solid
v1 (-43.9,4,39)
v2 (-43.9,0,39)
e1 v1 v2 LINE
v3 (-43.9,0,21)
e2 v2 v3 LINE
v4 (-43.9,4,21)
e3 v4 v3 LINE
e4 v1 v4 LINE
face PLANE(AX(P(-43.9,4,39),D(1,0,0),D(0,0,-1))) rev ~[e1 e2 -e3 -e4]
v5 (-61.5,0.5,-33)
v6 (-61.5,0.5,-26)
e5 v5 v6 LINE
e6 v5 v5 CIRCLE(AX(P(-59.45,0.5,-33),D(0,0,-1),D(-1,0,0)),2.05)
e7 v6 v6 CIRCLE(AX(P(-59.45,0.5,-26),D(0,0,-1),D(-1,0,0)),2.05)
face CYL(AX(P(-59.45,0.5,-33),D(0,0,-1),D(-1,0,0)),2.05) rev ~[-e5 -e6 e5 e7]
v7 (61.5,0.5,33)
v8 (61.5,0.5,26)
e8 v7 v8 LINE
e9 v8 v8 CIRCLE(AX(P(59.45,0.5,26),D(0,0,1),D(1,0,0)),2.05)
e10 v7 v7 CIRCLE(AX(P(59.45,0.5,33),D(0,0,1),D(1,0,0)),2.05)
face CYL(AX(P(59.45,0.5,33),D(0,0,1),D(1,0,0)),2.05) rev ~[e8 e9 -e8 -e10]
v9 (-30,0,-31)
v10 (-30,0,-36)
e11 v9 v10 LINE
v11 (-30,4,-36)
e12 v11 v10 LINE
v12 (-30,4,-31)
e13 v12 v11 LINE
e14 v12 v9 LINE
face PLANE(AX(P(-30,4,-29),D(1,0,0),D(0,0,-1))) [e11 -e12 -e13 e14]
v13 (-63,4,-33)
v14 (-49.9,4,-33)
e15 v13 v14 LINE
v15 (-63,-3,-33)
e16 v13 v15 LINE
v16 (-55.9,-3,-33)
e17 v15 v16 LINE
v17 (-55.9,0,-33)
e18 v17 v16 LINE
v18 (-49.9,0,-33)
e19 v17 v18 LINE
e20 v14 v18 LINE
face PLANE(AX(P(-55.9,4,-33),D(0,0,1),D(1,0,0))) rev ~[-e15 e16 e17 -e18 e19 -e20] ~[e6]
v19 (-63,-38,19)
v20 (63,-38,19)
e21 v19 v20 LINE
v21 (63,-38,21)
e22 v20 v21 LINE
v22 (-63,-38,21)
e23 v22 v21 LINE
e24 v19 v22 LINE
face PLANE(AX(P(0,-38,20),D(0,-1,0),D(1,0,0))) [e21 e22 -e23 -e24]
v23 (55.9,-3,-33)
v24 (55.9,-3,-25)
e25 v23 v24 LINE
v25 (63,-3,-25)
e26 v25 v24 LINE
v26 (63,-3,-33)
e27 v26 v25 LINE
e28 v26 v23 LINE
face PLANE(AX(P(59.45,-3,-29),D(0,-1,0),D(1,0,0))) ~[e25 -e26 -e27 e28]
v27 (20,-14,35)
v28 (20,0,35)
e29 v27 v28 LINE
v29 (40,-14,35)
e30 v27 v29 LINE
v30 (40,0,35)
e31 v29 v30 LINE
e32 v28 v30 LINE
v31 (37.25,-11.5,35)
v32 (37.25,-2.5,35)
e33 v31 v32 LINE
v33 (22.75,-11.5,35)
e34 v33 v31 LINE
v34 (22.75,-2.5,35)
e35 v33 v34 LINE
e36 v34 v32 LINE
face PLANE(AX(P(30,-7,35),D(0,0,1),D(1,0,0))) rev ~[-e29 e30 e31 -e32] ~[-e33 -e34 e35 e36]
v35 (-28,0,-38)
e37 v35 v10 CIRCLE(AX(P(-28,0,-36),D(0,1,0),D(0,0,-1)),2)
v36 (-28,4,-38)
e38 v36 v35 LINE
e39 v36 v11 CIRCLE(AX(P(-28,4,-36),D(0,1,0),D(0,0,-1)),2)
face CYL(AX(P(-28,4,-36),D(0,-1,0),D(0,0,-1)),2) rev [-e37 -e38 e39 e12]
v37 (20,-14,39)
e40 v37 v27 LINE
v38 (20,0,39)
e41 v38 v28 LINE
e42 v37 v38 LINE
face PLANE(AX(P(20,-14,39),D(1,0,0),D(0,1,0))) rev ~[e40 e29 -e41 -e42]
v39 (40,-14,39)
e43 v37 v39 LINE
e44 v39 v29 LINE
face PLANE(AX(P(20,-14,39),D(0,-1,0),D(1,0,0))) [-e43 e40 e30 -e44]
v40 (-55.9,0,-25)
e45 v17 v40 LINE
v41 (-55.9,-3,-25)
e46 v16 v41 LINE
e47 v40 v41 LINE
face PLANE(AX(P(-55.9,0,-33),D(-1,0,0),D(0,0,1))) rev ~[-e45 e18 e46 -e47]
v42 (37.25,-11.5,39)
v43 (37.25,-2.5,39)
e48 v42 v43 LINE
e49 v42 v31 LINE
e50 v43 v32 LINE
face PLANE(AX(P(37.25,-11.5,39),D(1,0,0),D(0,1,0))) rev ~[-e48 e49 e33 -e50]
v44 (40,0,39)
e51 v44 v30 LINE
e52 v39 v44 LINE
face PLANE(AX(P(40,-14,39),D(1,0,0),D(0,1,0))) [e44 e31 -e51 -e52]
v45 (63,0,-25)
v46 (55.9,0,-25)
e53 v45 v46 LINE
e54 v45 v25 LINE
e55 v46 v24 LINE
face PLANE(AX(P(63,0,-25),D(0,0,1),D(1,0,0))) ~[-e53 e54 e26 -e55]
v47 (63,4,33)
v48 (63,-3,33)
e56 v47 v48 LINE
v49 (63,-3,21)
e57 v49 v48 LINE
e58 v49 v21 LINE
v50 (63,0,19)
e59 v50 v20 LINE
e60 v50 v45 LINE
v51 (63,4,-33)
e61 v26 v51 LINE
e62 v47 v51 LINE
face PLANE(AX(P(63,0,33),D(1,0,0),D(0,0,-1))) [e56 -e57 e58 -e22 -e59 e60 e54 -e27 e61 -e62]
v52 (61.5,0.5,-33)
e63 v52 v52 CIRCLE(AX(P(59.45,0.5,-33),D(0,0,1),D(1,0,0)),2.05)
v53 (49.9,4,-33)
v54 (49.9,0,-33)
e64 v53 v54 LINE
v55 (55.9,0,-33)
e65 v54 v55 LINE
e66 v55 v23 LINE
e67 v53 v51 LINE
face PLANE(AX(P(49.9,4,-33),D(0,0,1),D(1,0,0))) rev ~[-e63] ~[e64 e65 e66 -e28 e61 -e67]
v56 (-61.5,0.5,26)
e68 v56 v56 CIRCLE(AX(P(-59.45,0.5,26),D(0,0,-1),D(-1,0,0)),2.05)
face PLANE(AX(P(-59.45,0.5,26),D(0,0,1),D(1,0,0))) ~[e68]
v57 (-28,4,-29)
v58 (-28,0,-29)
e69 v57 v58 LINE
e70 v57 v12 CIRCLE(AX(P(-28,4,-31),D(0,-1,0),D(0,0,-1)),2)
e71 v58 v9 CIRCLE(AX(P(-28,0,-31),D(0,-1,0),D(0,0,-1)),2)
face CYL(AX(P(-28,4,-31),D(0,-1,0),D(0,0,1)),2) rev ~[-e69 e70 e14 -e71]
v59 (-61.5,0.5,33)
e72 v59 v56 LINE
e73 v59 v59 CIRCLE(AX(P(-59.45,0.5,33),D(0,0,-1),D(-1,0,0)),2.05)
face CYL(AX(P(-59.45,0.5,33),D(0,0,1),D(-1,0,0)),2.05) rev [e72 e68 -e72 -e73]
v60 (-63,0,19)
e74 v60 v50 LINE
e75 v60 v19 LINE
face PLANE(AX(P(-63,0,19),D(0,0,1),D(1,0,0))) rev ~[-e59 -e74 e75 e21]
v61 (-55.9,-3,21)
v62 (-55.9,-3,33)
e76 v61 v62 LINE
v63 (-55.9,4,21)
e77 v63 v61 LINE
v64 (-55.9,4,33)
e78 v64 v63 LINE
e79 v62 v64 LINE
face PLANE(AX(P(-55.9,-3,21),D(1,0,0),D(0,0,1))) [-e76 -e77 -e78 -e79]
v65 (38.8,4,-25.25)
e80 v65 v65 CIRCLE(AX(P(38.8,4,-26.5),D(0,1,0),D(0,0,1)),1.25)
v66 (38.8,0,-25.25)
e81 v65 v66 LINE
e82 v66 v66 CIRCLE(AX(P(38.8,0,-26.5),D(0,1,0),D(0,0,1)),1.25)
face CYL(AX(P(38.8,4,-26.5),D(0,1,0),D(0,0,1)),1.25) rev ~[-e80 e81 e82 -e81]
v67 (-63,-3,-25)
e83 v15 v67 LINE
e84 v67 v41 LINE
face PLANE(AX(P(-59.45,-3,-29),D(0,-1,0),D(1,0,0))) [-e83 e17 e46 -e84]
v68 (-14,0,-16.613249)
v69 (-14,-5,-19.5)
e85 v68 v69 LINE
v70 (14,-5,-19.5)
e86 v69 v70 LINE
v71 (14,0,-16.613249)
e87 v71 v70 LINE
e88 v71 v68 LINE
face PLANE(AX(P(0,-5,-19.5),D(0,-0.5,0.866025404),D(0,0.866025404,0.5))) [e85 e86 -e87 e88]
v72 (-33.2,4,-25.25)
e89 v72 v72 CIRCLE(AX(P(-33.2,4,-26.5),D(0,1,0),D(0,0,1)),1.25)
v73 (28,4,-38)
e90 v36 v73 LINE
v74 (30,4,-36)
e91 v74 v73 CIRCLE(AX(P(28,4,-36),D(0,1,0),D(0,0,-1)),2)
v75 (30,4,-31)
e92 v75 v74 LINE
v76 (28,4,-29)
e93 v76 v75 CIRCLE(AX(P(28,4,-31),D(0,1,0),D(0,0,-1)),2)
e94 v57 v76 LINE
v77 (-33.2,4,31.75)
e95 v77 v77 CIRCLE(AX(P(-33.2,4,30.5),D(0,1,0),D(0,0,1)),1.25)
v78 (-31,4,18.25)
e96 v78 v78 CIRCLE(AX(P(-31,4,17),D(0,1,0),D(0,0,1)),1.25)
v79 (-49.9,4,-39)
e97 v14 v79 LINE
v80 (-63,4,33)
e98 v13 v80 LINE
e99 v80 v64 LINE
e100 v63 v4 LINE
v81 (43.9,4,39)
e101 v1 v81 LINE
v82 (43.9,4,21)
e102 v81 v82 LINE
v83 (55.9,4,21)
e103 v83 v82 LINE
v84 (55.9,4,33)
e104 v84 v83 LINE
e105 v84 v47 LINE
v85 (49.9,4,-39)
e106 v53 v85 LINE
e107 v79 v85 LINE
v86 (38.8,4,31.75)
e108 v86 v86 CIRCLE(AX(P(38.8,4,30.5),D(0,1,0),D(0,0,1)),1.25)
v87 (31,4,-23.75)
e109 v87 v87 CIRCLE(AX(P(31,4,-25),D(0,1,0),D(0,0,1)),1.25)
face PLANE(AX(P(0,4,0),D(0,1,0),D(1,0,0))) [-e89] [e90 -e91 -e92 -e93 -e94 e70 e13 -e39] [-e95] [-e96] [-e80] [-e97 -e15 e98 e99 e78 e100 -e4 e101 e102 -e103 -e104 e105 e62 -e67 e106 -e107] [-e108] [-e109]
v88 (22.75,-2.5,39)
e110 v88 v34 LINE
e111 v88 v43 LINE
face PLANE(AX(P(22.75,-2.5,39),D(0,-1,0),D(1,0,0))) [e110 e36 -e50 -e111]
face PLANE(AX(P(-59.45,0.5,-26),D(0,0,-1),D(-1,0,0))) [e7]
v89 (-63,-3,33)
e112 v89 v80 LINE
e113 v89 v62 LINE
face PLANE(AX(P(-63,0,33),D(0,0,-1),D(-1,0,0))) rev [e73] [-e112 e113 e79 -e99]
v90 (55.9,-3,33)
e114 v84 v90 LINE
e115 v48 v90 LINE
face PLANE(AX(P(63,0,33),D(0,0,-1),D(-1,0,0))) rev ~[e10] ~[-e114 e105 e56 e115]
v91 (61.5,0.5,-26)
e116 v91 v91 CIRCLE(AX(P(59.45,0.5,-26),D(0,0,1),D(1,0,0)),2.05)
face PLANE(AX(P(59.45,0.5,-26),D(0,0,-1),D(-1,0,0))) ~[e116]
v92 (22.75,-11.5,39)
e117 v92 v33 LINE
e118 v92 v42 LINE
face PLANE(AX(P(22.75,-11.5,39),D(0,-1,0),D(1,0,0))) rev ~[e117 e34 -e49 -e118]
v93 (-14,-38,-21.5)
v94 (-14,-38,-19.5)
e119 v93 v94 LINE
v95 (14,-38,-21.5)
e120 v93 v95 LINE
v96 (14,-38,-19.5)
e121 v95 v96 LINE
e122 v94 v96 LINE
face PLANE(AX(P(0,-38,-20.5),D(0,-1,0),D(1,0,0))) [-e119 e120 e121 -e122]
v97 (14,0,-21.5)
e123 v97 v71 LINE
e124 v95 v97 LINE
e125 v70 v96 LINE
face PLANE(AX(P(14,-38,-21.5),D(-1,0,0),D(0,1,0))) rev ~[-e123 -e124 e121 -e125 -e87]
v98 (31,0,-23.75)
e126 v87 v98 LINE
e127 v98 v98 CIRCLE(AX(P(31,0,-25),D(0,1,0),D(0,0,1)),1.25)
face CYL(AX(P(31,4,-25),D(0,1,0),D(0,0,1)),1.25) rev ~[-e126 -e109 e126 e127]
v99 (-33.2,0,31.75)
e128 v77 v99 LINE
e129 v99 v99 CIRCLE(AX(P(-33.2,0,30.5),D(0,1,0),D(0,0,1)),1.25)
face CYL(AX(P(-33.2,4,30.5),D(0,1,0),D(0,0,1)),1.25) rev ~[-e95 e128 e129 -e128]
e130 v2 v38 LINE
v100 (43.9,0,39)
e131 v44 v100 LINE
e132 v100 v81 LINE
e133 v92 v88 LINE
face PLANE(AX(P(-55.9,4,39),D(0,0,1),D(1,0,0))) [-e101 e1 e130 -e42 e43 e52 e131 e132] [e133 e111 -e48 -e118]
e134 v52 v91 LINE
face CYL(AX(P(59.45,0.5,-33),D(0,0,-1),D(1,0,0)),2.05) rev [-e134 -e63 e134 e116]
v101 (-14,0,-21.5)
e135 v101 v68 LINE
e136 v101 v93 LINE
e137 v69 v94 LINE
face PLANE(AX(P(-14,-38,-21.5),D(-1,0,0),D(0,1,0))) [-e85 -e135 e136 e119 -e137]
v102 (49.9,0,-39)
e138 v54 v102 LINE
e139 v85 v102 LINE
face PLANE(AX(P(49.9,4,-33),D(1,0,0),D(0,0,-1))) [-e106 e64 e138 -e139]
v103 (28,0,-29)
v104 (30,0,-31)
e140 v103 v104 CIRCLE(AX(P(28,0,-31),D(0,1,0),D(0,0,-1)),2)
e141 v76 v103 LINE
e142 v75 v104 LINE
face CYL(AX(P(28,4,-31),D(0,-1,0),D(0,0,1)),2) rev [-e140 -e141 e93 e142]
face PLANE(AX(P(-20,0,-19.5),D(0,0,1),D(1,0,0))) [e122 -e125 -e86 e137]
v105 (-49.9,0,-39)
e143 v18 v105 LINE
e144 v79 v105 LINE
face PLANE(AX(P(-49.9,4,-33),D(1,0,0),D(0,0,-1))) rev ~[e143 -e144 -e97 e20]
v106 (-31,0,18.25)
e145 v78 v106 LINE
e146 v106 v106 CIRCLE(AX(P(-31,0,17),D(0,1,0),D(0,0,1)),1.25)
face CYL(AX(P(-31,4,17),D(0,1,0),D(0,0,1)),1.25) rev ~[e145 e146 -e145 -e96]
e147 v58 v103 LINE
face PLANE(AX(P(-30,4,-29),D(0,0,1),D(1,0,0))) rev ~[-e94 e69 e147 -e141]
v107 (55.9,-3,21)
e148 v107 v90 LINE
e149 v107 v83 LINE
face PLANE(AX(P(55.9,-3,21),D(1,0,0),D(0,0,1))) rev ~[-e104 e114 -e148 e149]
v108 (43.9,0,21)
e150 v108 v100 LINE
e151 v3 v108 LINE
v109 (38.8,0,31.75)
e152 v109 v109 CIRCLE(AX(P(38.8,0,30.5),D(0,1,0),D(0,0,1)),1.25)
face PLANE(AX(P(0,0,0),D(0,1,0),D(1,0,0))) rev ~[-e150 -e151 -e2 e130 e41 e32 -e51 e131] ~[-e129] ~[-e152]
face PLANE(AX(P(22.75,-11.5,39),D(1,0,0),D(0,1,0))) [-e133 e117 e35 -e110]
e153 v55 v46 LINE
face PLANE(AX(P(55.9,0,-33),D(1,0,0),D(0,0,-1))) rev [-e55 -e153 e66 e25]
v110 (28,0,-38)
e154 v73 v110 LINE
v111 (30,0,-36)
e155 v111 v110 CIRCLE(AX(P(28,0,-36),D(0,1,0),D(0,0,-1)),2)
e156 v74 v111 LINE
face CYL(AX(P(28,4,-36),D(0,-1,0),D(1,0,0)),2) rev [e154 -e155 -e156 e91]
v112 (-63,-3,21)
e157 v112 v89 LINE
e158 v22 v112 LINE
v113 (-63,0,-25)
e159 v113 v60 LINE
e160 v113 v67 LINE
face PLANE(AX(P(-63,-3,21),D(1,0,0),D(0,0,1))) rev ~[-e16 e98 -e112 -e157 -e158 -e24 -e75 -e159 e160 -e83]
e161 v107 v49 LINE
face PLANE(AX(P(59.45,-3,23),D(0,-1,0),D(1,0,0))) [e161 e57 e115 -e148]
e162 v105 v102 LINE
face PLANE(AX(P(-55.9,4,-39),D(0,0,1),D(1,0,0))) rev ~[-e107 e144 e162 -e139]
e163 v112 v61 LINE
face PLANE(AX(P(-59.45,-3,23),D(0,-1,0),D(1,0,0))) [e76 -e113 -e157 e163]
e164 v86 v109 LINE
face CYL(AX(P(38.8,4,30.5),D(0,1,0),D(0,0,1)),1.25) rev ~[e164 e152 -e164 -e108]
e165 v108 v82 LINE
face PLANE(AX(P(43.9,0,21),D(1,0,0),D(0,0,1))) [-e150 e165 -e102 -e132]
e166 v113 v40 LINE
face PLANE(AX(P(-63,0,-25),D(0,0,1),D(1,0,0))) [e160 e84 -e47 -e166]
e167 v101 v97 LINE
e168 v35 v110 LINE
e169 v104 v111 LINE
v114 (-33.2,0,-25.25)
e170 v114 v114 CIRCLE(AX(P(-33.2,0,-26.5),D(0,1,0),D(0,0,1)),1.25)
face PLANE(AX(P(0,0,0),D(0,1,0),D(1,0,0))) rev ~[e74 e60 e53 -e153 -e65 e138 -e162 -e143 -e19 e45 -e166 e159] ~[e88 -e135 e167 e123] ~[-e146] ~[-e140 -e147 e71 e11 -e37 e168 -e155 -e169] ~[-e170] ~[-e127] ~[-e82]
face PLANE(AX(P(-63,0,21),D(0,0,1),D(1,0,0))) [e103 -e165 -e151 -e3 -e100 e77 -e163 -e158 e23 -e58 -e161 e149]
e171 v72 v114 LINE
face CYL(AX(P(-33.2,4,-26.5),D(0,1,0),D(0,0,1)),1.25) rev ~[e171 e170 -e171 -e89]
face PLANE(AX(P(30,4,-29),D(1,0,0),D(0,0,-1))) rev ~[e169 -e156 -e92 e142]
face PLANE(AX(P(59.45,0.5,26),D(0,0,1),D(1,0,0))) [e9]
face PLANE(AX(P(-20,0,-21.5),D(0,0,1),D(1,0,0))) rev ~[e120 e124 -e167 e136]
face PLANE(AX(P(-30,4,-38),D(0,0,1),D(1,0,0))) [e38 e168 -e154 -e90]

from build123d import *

# Parameters (mm, degrees)
BOSS_EXTRUDE1_DEPTH             = 4
SKETCH3_W                       = 7.1
SKETCH3_H                       = 8
BOSS_EXTRUDE3_DEPTH             = 3
SKETCH4_R                       = 2.05
CUT_EXTRUDE1_DEPTH              = 7
MIRROR2_COPY_1_SKETCH_W         = 7.1
MIRROR2_COPY_1_SKETCH_H         = 8
MIRROR2_COPY_1_DEPTH            = 3
MIRROR2_COPY_2_SKETCH_R         = 2.05
MIRROR2_COPY_2_DEPTH            = 7
SKETCH5_W                       = 60
SKETCH5_H                       = 9
CUT_EXTRUDE2_DEPTH              = 75.953318806
FILLET1_R                       = 2
SKETCH7_W                       = 111.8
SKETCH7_H                       = 1
CUT_EXTRUDE3_DEPTH              = 75.953318806
SKETCH8_W                       = 126
SKETCH8_H                       = 2
BOSS_EXTRUDE4_DEPTH             = 38
SKETCH9_W                       = 12
SKETCH9_H                       = 18
CUT_EXTRUDE4_DEPTH              = 10
SKETCH10_W                      = 7.1
SKETCH10_H                      = 4
BOSS_EXTRUDE5_DEPTH             = 3
SKETCH12_W                      = 1.5
SKETCH12_H                      = 4
BOSS_EXTRUDE6_DEPTH             = 2
SKETCH13_W                      = 40
SKETCH13_H                      = 2
BOSS_EXTRUDE7_DEPTH             = 38
SKETCH14_W                      = 1.5
SKETCH14_H                      = 4
BOSS_EXTRUDE8_DEPTH             = 1
BOSS_EXTRUDE9_REACH             = 85.271
BOSS_EXTRUDE9_DIRECTION_2_REACH = 85.271
SKETCH16_W                      = 20
SKETCH16_H                      = 14
SKETCH16_W_2                    = 14.5
SKETCH16_H_2                    = 9
BOSS_EXTRUDE10_DEPTH            = 4
SKETCH17_W                      = 12
SKETCH17_H                      = 18
CUT_EXTRUDE5_DEPTH              = 84.270643086
SKETCH18_W                      = 6
SKETCH18_H                      = 6
CUT_EXTRUDE6_DEPTH              = 86.170417399
SKETCH22_R                      = 1.25
CUT_EXTRUDE7_DEPTH              = 4
SKETCH25_W                      = 6
SKETCH25_H                      = 38
CUT_EXTRUDE11_DEPTH             = 10
CUT_EXTRUDE12_DEPTH             = 85.029756634
CUT_EXTRUDE12_DEPTH_BACK        = 85.029756634
SKETCH26_W                      = 5.701552738
SKETCH26_H                      = 30.562488548
SKETCH26_W_2                    = 7.53419365
SKETCH26_H_2                    = 28.524331859
SKETCH27_R                      = 1.25
CUT_EXTRUDE13_DEPTH             = 86.170417399


with BuildPart() as part:
    # Sketch1 → Boss-Extrude1 (new body)
    with BuildSketch(Plane(origin=(0, 0, 0), x_dir=(1, 0, 0), z_dir=(0, 1, 0))):
        Polygon((-63, -33), (-55.9, -33), (-55.9, -40), (55.9, -40), (55.9, -33), (63, -33), (63, 33), (55.9, 33), (55.9, 40), (-55.9, 40), (-55.9, 33), (-63, 33), align=None)
    extrude(amount=BOSS_EXTRUDE1_DEPTH)

    # Sketch3 → Boss-Extrude3 (add)
    with BuildSketch(Plane.XZ):
        with Locations((-59.45, -29)):
            Rectangle(SKETCH3_W, SKETCH3_H)
    boss_extrude3 = extrude(amount=BOSS_EXTRUDE3_DEPTH)

    # Sketch4 → Cut-Extrude1 (cut)
    with BuildSketch(Plane(origin=(0, 0, -33), x_dir=(-1, 0, 0), z_dir=(0, 0, -1))):
        with Locations((59.45, 0.5)):
            Circle(SKETCH4_R)
    cut_extrude1 = extrude(amount=-CUT_EXTRUDE1_DEPTH, mode=Mode.SUBTRACT)

    # Mirror1: Boss-Extrude3, Cut-Extrude1 across plane
    add(boss_extrude3.mirror(Plane(origin=(0, 0, 0), x_dir=(0, 0, 1), z_dir=(1, 0, 0))))
    add(cut_extrude1.mirror(Plane(origin=(0, 0, 0), x_dir=(0, 0, 1), z_dir=(1, 0, 0))), mode=Mode.SUBTRACT)

    # Mirror2: Boss-Extrude3, Cut-Extrude1 across plane
    add(boss_extrude3.mirror(Plane.XY))
    add(cut_extrude1.mirror(Plane.XY), mode=Mode.SUBTRACT)

    # Mirror2 copy 1 sketch → Mirror2 copy 1 (add)
    with BuildSketch(Plane(origin=(0, 0, 0), x_dir=(-1, 0, 0), z_dir=(0, -1, 0))):
        with Locations((-59.45, -29)):
            Rectangle(MIRROR2_COPY_1_SKETCH_W, MIRROR2_COPY_1_SKETCH_H)
    extrude(amount=MIRROR2_COPY_1_DEPTH)

    # Mirror2 copy 2 sketch → Mirror2 copy 2 (cut)
    with BuildSketch(Plane.XY.offset(33)):
        with Locations((59.45, 0.5)):
            Circle(MIRROR2_COPY_2_SKETCH_R)
    extrude(amount=-MIRROR2_COPY_2_DEPTH, mode=Mode.SUBTRACT)

    # Sketch5 → Cut-Extrude2 (cut, through all)
    with BuildSketch(Plane(origin=(0, 4, 0), x_dir=(1, 0, 0), z_dir=(0, 1, 0))):
        with Locations((0, 33.5)):
            Rectangle(SKETCH5_W, SKETCH5_H)
    extrude(amount=-CUT_EXTRUDE2_DEPTH, mode=Mode.SUBTRACT)

    # Fillet1
    fillet1_edges = [part.edges().sort_by_distance(p)[0] for p in [
        (-30, 2, -29),
        (-30, 2, -38),
        (30, 2, -38),
        (30, 2, -29),
    ]]
    fillet(fillet1_edges, radius=FILLET1_R)

    # Sketch7 → Cut-Extrude3 (cut, through all)
    with BuildSketch(Plane(origin=(0, 4, 0), x_dir=(1, 0, 0), z_dir=(0, 1, 0))):
        with Locations((0, 39.5)):
            Rectangle(SKETCH7_W, SKETCH7_H)
        with Locations((0, -39.5)):
            Rectangle(SKETCH7_W, SKETCH7_H)
    extrude(amount=-CUT_EXTRUDE3_DEPTH, mode=Mode.SUBTRACT)

    # Sketch8 → Boss-Extrude4 (add)
    with BuildSketch(Plane.XZ):
        with Locations((0, 20)):
            Rectangle(SKETCH8_W, SKETCH8_H)
    extrude(amount=BOSS_EXTRUDE4_DEPTH)

    # Sketch9 → Cut-Extrude4 (cut)
    with BuildSketch(Plane(origin=(0, 4, 0), x_dir=(1, 0, 0), z_dir=(0, 1, 0))):
        with Locations((-49.9, -30)):
            Rectangle(SKETCH9_W, SKETCH9_H)
    extrude(amount=-CUT_EXTRUDE4_DEPTH, mode=Mode.SUBTRACT)

    # Sketch10 → Boss-Extrude5 (add)
    with BuildSketch(Plane.XZ.offset(3)):
        with Locations((-59.45, 23)):
            Rectangle(SKETCH10_W, SKETCH10_H)
        with Locations((59.45, 23)):
            Rectangle(SKETCH10_W, SKETCH10_H)
    extrude(amount=-BOSS_EXTRUDE5_DEPTH)

    # Sketch12 → Boss-Extrude6 (add)
    # profile 1 of 2: a face of its own
    with BuildSketch(Plane.ZY.offset(56)):
        Polygon((21, -5.8), (21, -16.2), (23.7, -13.5), (23.7, -8.5), align=None)
        with Locations((22.35, -11)):
            Rectangle(SKETCH12_W, SKETCH12_H, mode=Mode.SUBTRACT)
    # profile 2 of 2: a face of its own
    with BuildSketch(Plane.ZY.offset(56)):
        Polygon((21, -20.8), (21, -31.2), (23.7, -28.5), (23.7, -23.5), align=None)
        with Locations((22.35, -26)):
            Rectangle(SKETCH12_W, SKETCH12_H, mode=Mode.SUBTRACT)
    boss_extrude6 = extrude(amount=-BOSS_EXTRUDE6_DEPTH)

    # Mirror3: Boss-Extrude6 across plane
    add(boss_extrude6.mirror(Plane(origin=(-49.9, 0, 0), x_dir=(0, 0, 1), z_dir=(1, 0, 0))))

    # Sketch13 → Boss-Extrude7 (add)
    with BuildSketch(Plane.XZ):
        with Locations((0, -20.5)):
            Rectangle(SKETCH13_W, SKETCH13_H)
    extrude(amount=BOSS_EXTRUDE7_DEPTH)

    # Sketch14 → Boss-Extrude8 (add, symmetric)
    # profile 1 of 2: a face of its own
    with BuildSketch(Plane(origin=(0, 0, 0), x_dir=(0, 0, -1), z_dir=(1, 0, 0))):
        Polygon((24.2, -8.5), (21.5, -5.8), (21.5, -16.2), (24.2, -13.5), align=None)
        with Locations((22.85, -11)):
            Rectangle(SKETCH14_W, SKETCH14_H, mode=Mode.SUBTRACT)
    # profile 2 of 2: a face of its own
    with BuildSketch(Plane(origin=(0, 0, 0), x_dir=(0, 0, -1), z_dir=(1, 0, 0))):
        Polygon((24.2, -28.5), (24.2, -23.5), (21.5, -20.8), (21.5, -31.2), align=None)
        with Locations((22.85, -26)):
            Rectangle(SKETCH14_W, SKETCH14_H, mode=Mode.SUBTRACT)
    extrude(amount=BOSS_EXTRUDE8_DEPTH, both=True)

    # Boss-Extrude9: up to this face of the body (flat: up to its plane)
    boss_extrude9_end = Plane(part.part.faces().sort_by_distance((-20, -19, -20.5))[0])
    # Sketch15 → Boss-Extrude9 (add, up to the picked face)
    with BuildSketch(Plane(origin=(0, 0, 0), x_dir=(0, 0, -1), z_dir=(1, 0, 0)), mode=Mode.PRIVATE) as boss_extrude9_sk1:
        Polygon((19.5, 0), (19.5, -5), (16.613248654, 0), align=None)
    boss_extrude9_tool1 = split(extrude(boss_extrude9_sk1.sketch, amount=-BOSS_EXTRUDE9_REACH, mode=Mode.PRIVATE), bisect_by=boss_extrude9_end, keep=Keep.BOTH, mode=Mode.PRIVATE)
    add(boss_extrude9_tool1.solids().sort_by(Axis((0, -1.666667, -18.53775), (-1, 0, 0)))[0])

    # Boss-Extrude9 direction 2: up to this face of the body (flat: up to its plane)
    boss_extrude9_direction_2_end = Plane(part.part.faces().sort_by_distance((20, -19, -20.5))[0])
    # Sketch15 → Boss-Extrude9 direction 2 (add, up to the picked face)
    with BuildSketch(Plane(origin=(0, 0, 0), x_dir=(0, 0, -1), z_dir=(1, 0, 0)), mode=Mode.PRIVATE) as boss_extrude9_direction_2_sk1:
        Polygon((19.5, 0), (19.5, -5), (16.613248654, 0), align=None)
    boss_extrude9_direction_2_tool1 = split(extrude(boss_extrude9_direction_2_sk1.sketch, amount=BOSS_EXTRUDE9_DIRECTION_2_REACH, mode=Mode.PRIVATE), bisect_by=boss_extrude9_direction_2_end, keep=Keep.BOTH, mode=Mode.PRIVATE)
    add(boss_extrude9_direction_2_tool1.solids().sort_by(Axis((0, -1.666667, -18.53775), (1, 0, 0)))[0])

    # Sketch16 → Boss-Extrude10 (add)
    with BuildSketch(Plane.XY.offset(39)):
        with Locations((30, -7)):
            Rectangle(SKETCH16_W, SKETCH16_H)
        with Locations((30, -7)):
            Rectangle(SKETCH16_W_2, SKETCH16_H_2, mode=Mode.SUBTRACT)
    extrude(amount=-BOSS_EXTRUDE10_DEPTH)

    # Sketch17 → Cut-Extrude5 (cut, through all)
    with BuildSketch(Plane.XZ):
        with Locations((49.9, 30)):
            Rectangle(SKETCH17_W, SKETCH17_H)
    extrude(amount=-CUT_EXTRUDE5_DEPTH, mode=Mode.SUBTRACT)

    # Sketch18 → Cut-Extrude6 (cut, through all)
    with BuildSketch(Plane(origin=(0, 4, 0), x_dir=(1, 0, 0), z_dir=(0, 1, 0))):
        with Locations((52.9, 36)):
            Rectangle(SKETCH18_W, SKETCH18_H)
        with Locations((-52.9, 36)):
            Rectangle(SKETCH18_W, SKETCH18_H)
    extrude(amount=-CUT_EXTRUDE6_DEPTH, mode=Mode.SUBTRACT)

    # Sketch22 → Cut-Extrude7 (cut)
    with BuildSketch(Plane(origin=(0, 4, 0), x_dir=(1, 0, 0), z_dir=(0, 1, 0))):
        with Locations(Location((31, 25, 0), (0, 0, 270))):
            Circle(SKETCH22_R)
        with Locations(Location((-31, -17, 0), (0, 0, 270))):
            Circle(SKETCH22_R)
    extrude(amount=-CUT_EXTRUDE7_DEPTH, mode=Mode.SUBTRACT)

    # Sketch25 → Cut-Extrude11 (cut)
    with BuildSketch(Plane(origin=(0, 0, -21.5), x_dir=(-1, 0, 0), z_dir=(0, 0, -1))):
        with Locations((-17, -19)):
            Rectangle(SKETCH25_W, SKETCH25_H)
        with Locations((17, -19)):
            Rectangle(SKETCH25_W, SKETCH25_H)
    extrude(amount=-CUT_EXTRUDE11_DEPTH, mode=Mode.SUBTRACT)

    # Sketch26 → Cut-Extrude12 (cut, two sides: drawn at the far end of the back side and taken through both)
    with BuildSketch(Plane.ZY.offset(1).offset(-CUT_EXTRUDE12_DEPTH_BACK)):
        with Locations((-24.350776369, -21.081244274)):
            Rectangle(SKETCH26_W, SKETCH26_H)
        with Locations((24.767096825, -20.06216593)):
            Rectangle(SKETCH26_W_2, SKETCH26_H_2)
    extrude(amount=CUT_EXTRUDE12_DEPTH + CUT_EXTRUDE12_DEPTH_BACK, mode=Mode.SUBTRACT)

    # Sketch27 → Cut-Extrude13 (cut, through all)
    with BuildSketch(Plane(origin=(0, 4, 0), x_dir=(1, 0, 0), z_dir=(0, 1, 0))):
        with Locations(Location((-33.2, 26.5, 0), (0, 0, 270))):
            Circle(SKETCH27_R)
        with Locations(Location((-33.2, -30.5, 0), (0, 0, 270))):
            Circle(SKETCH27_R)
        with Locations(Location((38.8, -30.5, 0), (0, 0, 270))):
            Circle(SKETCH27_R)
        with Locations(Location((38.8, 26.5, 0), (0, 0, 270))):
            Circle(SKETCH27_R)
    extrude(amount=-CUT_EXTRUDE13_DEPTH, mode=Mode.SUBTRACT)


solid = part.part
